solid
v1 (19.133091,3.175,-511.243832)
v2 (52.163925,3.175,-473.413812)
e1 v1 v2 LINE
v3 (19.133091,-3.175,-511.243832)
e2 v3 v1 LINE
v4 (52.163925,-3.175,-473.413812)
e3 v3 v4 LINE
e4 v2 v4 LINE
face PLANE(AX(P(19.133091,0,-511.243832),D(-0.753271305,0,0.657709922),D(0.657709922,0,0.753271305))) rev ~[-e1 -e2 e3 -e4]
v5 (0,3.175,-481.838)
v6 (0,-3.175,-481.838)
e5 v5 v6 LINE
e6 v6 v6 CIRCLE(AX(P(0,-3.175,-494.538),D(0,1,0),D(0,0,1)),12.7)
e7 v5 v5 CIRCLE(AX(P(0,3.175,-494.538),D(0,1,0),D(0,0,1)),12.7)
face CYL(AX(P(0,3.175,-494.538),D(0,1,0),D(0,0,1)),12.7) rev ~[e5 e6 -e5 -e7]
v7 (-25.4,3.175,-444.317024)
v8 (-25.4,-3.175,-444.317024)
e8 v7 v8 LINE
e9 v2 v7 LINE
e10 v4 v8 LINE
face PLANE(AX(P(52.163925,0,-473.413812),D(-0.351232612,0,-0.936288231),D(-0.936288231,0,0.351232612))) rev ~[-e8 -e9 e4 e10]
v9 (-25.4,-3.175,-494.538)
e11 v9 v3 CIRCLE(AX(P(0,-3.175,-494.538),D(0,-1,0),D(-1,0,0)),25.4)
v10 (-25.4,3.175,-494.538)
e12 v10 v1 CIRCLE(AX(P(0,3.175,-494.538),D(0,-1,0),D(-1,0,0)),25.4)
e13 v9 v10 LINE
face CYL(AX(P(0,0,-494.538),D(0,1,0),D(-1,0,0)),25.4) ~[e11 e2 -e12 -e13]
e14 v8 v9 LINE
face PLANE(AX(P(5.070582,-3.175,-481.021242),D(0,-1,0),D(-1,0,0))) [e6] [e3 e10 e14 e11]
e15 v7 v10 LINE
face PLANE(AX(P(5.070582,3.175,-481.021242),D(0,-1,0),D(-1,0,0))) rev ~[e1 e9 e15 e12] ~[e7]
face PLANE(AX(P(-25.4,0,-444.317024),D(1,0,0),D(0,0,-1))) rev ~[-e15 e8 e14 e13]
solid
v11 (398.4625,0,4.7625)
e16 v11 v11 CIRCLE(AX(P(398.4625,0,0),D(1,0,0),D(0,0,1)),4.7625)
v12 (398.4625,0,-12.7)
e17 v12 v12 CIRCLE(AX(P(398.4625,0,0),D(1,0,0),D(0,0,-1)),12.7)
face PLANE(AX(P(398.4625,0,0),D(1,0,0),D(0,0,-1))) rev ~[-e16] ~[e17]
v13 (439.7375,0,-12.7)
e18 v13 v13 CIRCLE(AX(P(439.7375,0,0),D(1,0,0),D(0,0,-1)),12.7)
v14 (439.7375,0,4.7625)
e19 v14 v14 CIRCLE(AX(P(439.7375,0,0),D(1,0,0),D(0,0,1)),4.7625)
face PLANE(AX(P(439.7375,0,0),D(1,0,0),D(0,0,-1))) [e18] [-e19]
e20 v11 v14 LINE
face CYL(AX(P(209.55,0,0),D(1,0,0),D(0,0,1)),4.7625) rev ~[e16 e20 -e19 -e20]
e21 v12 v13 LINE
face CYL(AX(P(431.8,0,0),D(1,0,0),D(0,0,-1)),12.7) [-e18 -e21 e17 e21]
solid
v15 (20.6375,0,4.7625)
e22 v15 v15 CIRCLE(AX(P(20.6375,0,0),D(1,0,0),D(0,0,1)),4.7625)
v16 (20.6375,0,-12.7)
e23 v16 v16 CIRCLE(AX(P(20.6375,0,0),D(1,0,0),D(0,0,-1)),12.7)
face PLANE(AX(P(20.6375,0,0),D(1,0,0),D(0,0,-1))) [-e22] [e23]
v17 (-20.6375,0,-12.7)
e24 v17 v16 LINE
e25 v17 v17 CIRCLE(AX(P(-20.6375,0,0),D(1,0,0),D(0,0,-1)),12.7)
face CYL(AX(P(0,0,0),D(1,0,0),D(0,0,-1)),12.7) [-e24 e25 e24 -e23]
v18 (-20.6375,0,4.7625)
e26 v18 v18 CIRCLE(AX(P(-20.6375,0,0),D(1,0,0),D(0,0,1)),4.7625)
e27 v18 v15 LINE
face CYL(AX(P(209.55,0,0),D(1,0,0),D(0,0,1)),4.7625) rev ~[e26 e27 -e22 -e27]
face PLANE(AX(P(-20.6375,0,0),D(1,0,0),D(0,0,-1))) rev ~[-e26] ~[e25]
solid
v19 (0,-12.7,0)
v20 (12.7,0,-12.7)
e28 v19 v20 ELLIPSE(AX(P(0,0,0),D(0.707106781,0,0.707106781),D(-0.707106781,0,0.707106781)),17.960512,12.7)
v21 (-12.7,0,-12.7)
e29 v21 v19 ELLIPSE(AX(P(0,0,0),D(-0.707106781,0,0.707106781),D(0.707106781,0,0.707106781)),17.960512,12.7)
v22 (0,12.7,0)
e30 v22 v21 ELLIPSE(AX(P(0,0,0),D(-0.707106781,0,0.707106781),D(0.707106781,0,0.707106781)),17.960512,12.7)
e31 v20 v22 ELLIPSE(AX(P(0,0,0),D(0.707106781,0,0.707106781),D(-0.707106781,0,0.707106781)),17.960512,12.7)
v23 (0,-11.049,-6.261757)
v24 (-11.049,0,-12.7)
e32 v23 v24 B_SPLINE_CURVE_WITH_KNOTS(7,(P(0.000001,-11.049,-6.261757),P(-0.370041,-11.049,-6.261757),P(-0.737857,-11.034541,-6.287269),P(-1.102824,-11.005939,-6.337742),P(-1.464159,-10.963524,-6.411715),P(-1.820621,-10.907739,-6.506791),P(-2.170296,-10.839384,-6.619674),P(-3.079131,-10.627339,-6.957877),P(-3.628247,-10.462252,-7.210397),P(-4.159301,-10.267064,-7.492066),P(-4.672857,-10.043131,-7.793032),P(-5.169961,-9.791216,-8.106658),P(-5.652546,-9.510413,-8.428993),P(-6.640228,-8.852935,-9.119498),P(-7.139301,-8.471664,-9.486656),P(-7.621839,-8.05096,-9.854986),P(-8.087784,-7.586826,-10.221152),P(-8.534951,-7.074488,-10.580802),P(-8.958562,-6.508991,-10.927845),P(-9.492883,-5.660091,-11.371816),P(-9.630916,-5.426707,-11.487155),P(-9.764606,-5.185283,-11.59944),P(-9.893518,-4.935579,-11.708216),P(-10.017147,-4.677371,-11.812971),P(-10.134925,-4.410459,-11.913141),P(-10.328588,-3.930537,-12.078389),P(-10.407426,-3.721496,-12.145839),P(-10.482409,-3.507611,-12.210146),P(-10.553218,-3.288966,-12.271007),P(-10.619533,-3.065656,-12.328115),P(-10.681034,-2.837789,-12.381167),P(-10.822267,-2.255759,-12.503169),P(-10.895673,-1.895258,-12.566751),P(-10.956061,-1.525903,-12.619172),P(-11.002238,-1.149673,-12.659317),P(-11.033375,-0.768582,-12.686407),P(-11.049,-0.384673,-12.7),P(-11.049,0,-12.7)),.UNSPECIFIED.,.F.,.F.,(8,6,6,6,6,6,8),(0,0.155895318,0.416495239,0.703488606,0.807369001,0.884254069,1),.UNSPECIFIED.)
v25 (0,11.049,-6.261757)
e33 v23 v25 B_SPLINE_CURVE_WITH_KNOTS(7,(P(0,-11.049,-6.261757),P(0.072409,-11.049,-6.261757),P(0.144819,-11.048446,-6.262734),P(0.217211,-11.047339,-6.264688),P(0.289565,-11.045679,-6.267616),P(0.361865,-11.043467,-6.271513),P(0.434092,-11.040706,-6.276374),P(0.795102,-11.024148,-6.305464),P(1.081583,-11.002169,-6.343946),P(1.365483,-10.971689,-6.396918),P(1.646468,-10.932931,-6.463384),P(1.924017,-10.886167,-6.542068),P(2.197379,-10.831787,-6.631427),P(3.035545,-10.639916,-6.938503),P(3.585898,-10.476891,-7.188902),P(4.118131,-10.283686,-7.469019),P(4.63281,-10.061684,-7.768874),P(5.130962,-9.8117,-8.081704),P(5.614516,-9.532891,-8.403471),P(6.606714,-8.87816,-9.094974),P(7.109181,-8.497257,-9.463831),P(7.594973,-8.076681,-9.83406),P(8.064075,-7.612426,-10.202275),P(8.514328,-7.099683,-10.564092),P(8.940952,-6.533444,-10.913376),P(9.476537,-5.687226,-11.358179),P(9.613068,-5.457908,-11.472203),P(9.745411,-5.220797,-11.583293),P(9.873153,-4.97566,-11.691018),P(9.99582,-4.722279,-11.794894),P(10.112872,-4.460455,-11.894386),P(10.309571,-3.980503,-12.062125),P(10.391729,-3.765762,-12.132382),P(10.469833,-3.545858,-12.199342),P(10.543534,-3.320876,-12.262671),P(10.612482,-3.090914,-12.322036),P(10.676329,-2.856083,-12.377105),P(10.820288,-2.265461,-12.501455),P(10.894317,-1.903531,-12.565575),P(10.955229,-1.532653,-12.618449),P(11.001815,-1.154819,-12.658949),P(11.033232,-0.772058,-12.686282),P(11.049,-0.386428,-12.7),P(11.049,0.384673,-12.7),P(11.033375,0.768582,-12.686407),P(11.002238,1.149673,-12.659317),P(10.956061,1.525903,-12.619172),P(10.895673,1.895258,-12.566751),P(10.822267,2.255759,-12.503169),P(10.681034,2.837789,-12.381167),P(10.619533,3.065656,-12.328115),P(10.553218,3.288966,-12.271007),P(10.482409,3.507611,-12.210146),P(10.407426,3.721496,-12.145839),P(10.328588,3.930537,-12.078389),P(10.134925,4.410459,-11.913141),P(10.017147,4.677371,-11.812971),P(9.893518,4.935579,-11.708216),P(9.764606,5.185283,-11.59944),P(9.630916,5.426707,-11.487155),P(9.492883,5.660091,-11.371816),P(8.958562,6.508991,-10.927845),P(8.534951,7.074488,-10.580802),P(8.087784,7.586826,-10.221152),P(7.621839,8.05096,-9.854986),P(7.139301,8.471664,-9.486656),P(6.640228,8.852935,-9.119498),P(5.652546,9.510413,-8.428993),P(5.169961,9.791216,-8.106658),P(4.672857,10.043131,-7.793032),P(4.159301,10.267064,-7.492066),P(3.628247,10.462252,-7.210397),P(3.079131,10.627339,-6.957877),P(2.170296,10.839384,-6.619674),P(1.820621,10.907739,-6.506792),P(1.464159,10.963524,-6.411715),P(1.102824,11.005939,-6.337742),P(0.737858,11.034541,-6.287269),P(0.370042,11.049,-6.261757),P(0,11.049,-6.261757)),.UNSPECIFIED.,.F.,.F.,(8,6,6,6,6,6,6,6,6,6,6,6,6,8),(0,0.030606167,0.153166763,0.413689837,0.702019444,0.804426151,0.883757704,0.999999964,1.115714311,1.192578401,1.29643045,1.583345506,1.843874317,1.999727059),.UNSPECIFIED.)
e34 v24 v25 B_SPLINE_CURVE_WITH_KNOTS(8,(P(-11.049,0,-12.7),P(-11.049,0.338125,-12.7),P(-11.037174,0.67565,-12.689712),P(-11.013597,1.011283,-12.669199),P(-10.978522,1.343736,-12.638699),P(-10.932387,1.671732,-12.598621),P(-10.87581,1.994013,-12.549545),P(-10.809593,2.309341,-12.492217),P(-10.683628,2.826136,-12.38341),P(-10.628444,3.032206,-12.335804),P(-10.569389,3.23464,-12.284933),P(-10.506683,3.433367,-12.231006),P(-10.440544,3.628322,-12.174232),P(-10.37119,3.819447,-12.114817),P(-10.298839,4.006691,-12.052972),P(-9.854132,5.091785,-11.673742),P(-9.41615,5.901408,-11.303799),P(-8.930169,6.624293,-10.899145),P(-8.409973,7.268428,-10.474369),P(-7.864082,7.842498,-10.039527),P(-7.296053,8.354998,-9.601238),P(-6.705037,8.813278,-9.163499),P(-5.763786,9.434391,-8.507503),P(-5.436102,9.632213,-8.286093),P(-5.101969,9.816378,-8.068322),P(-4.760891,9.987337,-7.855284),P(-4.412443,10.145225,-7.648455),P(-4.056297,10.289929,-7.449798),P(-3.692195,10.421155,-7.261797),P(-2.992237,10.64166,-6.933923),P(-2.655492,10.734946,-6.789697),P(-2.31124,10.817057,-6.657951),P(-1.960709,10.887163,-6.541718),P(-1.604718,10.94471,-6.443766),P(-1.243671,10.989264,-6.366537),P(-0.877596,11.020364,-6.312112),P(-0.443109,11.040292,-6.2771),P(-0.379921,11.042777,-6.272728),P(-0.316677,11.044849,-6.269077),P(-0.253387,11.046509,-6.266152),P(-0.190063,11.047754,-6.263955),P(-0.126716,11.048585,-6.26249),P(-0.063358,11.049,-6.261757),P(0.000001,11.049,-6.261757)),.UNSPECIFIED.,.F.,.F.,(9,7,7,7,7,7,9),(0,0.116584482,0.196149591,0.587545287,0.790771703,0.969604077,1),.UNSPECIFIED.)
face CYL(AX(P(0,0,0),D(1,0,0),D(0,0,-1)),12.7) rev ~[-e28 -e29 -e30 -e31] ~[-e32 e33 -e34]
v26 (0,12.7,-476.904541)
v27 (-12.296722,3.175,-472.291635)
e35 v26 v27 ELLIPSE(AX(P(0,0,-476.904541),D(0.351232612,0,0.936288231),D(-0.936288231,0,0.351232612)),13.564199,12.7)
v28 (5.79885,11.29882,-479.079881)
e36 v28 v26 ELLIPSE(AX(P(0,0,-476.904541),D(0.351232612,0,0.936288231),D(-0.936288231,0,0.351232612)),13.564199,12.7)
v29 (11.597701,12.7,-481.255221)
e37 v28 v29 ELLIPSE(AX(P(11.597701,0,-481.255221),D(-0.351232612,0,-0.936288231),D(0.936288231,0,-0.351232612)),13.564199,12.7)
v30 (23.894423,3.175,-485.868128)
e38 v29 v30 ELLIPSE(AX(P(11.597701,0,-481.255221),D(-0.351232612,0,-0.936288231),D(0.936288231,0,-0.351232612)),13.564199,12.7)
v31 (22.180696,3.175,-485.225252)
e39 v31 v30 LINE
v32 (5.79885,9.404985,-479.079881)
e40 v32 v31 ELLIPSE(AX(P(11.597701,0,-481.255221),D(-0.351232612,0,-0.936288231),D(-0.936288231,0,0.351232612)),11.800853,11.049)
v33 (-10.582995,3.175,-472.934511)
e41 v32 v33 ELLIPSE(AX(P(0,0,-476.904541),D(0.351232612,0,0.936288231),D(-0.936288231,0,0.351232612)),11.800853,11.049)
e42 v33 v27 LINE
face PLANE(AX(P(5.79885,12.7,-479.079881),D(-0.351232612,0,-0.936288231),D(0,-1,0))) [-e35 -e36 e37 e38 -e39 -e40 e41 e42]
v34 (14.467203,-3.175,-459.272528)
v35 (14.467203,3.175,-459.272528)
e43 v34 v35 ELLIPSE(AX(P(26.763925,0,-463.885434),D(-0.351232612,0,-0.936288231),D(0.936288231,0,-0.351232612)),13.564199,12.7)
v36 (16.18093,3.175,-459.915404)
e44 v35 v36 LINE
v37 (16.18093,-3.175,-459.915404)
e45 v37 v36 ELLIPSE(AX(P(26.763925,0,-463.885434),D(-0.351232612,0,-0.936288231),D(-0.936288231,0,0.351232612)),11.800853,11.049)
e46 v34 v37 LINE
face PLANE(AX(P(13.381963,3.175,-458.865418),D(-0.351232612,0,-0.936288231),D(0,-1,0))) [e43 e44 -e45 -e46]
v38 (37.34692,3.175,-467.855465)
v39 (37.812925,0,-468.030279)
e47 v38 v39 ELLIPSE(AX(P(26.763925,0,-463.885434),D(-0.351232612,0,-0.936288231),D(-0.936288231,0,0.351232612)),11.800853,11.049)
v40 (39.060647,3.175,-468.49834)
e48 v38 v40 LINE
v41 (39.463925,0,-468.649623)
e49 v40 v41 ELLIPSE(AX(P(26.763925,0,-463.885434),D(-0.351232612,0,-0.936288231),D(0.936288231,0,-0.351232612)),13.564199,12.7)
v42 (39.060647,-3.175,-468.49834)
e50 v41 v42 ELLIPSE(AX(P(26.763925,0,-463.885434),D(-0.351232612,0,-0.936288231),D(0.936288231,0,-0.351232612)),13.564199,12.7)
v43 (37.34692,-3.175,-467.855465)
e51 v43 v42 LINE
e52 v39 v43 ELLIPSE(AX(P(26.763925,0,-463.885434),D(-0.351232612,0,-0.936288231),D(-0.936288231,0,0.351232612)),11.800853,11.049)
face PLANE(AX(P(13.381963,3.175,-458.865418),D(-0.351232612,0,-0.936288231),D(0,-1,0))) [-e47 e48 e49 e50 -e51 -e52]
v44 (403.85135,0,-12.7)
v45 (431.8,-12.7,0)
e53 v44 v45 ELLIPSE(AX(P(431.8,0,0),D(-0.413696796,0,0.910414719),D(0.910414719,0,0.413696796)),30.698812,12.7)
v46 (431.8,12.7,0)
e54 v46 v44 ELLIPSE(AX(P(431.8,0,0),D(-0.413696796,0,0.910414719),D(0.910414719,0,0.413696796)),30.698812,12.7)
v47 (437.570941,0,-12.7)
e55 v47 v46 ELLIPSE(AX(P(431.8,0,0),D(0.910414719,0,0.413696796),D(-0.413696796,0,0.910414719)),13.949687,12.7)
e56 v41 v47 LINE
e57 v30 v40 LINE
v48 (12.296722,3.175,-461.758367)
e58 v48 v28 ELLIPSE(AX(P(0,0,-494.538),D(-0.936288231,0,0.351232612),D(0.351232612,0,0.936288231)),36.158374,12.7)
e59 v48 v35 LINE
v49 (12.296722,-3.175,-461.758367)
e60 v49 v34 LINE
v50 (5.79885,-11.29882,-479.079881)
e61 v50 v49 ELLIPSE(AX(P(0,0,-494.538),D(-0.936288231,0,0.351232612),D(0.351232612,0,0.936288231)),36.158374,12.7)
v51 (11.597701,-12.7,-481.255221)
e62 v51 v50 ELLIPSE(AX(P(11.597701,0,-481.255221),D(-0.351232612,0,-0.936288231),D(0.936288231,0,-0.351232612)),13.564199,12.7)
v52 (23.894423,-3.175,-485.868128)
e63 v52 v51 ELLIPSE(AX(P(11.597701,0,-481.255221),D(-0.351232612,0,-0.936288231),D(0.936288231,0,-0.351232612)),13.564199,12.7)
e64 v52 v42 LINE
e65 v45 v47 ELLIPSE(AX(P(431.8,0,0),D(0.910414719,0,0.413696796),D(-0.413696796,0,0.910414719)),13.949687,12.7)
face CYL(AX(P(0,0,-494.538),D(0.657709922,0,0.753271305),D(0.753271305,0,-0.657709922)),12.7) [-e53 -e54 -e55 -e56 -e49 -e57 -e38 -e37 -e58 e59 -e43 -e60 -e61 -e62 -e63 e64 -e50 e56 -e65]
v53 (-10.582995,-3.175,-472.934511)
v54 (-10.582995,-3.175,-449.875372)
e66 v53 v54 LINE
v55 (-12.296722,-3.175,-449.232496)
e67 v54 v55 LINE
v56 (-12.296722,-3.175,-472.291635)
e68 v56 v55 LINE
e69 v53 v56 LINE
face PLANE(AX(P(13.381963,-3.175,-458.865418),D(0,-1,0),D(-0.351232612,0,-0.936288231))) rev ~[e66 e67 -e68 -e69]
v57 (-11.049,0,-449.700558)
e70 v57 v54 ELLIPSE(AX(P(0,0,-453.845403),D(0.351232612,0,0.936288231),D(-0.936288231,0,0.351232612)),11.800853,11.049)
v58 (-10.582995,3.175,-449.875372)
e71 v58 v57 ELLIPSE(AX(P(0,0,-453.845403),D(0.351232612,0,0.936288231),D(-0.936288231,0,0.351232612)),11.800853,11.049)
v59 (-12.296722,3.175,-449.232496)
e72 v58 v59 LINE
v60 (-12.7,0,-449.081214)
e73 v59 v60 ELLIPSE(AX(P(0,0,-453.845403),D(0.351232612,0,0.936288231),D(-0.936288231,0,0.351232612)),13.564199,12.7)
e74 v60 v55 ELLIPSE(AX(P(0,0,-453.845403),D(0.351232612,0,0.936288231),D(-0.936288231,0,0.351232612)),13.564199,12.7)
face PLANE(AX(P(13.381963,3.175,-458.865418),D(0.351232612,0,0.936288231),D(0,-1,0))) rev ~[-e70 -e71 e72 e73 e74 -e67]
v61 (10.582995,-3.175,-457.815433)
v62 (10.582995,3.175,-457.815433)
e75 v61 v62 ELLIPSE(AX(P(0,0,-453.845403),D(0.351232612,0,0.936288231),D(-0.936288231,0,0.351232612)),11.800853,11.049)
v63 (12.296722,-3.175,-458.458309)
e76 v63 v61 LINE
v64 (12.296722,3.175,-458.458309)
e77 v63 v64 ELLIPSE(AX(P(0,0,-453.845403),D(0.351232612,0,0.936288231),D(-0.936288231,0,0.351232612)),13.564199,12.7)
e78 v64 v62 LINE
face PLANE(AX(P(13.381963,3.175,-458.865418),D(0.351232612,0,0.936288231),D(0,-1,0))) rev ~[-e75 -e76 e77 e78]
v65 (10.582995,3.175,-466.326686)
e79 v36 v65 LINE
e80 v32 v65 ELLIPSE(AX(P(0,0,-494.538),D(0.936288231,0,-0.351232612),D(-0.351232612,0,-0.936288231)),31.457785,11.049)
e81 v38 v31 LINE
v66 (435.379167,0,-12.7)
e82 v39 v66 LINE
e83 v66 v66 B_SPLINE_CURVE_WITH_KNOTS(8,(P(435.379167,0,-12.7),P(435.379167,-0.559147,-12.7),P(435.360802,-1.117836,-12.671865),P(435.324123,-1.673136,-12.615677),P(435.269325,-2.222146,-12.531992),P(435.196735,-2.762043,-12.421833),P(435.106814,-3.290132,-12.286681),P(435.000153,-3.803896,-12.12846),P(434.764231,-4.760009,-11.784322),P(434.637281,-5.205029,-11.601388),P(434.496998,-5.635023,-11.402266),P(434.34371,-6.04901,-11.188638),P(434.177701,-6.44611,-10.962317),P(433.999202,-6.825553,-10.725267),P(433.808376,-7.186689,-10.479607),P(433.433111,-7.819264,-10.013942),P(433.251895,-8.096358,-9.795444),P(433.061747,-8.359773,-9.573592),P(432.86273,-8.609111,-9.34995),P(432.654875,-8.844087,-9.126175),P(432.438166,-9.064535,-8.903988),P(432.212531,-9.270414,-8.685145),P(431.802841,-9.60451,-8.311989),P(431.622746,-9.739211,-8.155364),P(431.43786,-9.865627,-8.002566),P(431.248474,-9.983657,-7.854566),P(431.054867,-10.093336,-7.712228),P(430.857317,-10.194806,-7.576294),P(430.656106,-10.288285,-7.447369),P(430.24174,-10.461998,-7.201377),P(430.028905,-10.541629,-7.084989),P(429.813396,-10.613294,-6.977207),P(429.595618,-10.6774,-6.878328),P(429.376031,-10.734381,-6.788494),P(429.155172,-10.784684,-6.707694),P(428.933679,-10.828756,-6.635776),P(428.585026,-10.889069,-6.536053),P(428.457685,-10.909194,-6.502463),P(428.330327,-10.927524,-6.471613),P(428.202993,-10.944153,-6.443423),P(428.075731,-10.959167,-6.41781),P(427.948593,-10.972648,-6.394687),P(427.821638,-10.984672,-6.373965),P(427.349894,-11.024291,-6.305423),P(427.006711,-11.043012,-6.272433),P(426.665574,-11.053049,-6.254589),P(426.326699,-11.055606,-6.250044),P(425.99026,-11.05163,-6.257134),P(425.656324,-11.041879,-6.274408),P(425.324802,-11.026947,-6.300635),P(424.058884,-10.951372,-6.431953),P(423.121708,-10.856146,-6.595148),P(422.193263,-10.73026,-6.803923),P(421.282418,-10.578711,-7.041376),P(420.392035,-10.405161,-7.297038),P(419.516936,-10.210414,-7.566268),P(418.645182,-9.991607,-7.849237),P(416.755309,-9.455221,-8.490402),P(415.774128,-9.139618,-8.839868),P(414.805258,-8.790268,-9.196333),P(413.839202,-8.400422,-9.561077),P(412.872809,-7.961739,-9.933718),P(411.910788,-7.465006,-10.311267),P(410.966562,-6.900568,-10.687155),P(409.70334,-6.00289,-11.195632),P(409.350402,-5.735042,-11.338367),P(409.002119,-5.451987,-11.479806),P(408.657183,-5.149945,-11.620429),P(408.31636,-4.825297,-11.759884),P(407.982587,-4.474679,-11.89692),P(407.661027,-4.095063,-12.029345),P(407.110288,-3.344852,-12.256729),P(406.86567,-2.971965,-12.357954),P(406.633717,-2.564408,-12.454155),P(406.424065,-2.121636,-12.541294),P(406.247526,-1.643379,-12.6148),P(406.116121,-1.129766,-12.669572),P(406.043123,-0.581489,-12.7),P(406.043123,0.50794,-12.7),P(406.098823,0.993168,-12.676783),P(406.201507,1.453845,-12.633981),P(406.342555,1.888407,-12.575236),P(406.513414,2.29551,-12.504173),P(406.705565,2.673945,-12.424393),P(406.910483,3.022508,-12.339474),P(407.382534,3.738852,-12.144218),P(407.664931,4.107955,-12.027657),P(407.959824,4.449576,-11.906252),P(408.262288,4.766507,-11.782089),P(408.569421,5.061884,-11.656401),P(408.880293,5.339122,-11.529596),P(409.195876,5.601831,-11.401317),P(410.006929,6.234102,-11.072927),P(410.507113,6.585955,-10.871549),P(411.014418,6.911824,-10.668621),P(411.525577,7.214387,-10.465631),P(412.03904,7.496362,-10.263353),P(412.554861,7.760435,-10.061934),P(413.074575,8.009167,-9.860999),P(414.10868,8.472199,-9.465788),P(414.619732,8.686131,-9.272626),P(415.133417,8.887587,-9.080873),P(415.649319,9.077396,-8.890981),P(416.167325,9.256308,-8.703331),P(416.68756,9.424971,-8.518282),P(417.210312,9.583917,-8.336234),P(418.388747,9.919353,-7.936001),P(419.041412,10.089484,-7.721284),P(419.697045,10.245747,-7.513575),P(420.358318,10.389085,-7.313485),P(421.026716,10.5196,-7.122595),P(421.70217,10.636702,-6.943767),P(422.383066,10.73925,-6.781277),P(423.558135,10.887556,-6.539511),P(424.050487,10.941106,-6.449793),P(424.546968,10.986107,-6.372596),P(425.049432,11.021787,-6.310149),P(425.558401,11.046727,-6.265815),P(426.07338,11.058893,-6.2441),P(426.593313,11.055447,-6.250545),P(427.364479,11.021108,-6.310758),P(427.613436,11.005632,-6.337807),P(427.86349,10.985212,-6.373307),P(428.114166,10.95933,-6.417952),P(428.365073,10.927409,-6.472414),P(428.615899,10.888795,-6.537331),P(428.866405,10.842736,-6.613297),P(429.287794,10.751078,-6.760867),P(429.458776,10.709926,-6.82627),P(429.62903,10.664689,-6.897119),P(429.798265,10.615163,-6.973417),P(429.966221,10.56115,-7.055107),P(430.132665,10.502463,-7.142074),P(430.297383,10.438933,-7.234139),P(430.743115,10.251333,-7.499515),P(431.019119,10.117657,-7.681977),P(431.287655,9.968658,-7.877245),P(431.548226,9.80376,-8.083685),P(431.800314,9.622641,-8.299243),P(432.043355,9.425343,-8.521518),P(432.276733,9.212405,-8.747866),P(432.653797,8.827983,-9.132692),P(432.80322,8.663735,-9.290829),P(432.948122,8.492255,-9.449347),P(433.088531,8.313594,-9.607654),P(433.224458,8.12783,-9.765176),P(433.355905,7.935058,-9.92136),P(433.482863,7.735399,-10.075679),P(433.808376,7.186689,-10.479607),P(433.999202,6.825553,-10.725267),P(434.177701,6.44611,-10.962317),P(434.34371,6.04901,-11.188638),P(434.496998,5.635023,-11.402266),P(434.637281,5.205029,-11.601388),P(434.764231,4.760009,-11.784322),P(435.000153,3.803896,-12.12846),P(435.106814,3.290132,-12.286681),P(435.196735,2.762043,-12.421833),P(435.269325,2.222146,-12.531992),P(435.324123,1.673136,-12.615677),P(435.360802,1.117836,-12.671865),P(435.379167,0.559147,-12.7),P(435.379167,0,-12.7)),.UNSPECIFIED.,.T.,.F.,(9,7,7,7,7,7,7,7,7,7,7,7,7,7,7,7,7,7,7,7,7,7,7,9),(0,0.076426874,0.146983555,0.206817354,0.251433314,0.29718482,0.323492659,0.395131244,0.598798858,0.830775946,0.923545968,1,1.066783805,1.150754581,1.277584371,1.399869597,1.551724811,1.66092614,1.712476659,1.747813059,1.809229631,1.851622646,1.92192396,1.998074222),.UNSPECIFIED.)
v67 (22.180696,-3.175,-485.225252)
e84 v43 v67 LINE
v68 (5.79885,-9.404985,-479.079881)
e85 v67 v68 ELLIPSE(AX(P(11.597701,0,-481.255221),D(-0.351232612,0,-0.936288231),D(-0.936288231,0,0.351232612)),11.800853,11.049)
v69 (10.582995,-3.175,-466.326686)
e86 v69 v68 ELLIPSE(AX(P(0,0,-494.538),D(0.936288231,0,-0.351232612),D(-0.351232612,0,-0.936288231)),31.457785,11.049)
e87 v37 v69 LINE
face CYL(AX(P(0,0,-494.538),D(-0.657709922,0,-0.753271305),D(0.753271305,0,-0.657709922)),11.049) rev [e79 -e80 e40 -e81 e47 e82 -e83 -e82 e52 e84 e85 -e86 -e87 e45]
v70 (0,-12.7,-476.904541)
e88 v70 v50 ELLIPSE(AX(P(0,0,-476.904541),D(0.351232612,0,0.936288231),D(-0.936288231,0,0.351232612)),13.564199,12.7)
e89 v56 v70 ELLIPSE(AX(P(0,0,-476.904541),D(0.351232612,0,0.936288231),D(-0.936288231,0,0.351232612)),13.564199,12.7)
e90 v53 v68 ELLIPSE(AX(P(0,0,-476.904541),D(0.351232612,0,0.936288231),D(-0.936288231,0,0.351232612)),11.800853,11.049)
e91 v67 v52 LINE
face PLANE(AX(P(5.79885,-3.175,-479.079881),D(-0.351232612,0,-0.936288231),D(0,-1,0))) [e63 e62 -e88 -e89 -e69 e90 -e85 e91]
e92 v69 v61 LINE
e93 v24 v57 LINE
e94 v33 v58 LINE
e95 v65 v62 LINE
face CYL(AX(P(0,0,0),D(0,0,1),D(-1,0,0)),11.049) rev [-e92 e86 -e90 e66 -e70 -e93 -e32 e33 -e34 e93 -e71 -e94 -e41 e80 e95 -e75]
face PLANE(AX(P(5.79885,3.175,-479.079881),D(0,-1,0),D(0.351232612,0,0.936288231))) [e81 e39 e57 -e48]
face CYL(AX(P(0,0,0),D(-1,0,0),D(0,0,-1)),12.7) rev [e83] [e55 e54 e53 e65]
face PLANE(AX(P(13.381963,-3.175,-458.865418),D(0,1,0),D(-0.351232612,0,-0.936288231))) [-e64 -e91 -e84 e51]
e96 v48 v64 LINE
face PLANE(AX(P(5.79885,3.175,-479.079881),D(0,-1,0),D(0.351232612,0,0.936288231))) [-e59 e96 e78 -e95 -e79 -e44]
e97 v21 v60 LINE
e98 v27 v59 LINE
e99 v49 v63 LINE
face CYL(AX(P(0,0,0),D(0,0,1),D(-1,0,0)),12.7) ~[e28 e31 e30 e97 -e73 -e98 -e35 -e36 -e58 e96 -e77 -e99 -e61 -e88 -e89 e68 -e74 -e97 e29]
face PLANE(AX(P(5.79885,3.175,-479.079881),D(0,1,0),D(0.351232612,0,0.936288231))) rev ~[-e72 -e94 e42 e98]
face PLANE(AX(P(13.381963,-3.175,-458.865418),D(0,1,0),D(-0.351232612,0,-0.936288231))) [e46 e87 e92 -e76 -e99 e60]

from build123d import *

# Parameters (mm, degrees)
SKETCH11_ON_SEGMENT_1_R         = 12.7
SKETCH11_ON_SEGMENT_1_R_2       = 11.049
STRUCTURAL_MEMBER1_DEPTH        = 543.415718856
SKETCH11_R                      = 12.7
SKETCH11_R_2                    = 11.049
STRUCTURAL_MEMBER1_2_DEPTH      = 656.520428809
STRUCTURAL_MEMBER1_2_DEPTH_BACK = 48.877718856
CUT_EXTRUDE1_DEPTH              = 670.227159455
CUT_EXTRUDE1_DEPTH_BACK         = 670.227159455
BOSS_EXTRUDE1_DEPTH             = 3.175
BOSS_EXTRUDE1_DEPTH_BACK        = 3.175
SKETCH16_R                      = 12.7
CUT_EXTRUDE2_DEPTH              = 683.129929993
CUT_EXTRUDE2_DEPTH_BACK         = 683.129929993
SKETCH17_R                      = 12.7
BOSS_EXTRUDE2_DEPTH             = 20.6375
BOSS_EXTRUDE2_DEPTH_BACK        = 20.6375
SKETCH18_R                      = 12.7
BOSS_EXTRUDE3_DEPTH             = 7.9375
BOSS_EXTRUDE3_DEPTH_BACK        = 33.3375
SKETCH19_W                      = 4.7625
SKETCH19_H                      = 460.375
SKETCH22_R                      = 12.7
CUT_EXTRUDE3_DEPTH              = 682.143603345
CUT_EXTRUDE3_DEPTH_BACK         = 682.143603345


with BuildPart() as part:
    # Sketch11 on segment 1 (carried to segment 1) → Structural Member1 (new body)
    with BuildSketch(Plane(origin=(0, 0, 0), x_dir=(-1, 0, 0), z_dir=(0, 0, -1))):
        Circle(SKETCH11_ON_SEGMENT_1_R)
        Circle(SKETCH11_ON_SEGMENT_1_R_2, mode=Mode.SUBTRACT)
    extrude(amount=STRUCTURAL_MEMBER1_DEPTH)

    # Structural Member1 mitre 1
    split(bisect_by=Plane(origin=(0, 0, -494.538), x_dir=(0, -1, 0), z_dir=(-0.936288231, 0, 0.351232612)), keep=Keep.TOP)


with BuildPart() as body_2:
    # Sketch11 → Structural Member1 2 (new, two sides)
    with BuildSketch(Plane(origin=(0, 0, -494.538), x_dir=(0.7532713047435399, 0, -0.6577099219640564), z_dir=(0.6577099219640563, 0, 0.7532713047435398))) as structural_member1_2_sk:
        Circle(SKETCH11_R)
        Circle(SKETCH11_R_2, mode=Mode.SUBTRACT)
    extrude(amount=STRUCTURAL_MEMBER1_2_DEPTH)
    extrude(structural_member1_2_sk.sketch, amount=-STRUCTURAL_MEMBER1_2_DEPTH_BACK)

    # Structural Member1 2 mitre 1
    split(bisect_by=Plane(origin=(0, 0, -494.538), x_dir=(0, 1, 0), z_dir=(0.936288231, 0, -0.351232612)), keep=Keep.TOP)


with BuildPart() as part_1:
    add(part.part)

    # Structural Member1 as one body: union body 2
    add(body_2.part)

    # Sketch13 → Cut-Extrude1 (cut, two sides)
    with BuildSketch(Plane(origin=(0, 0, -494.538), x_dir=(0.35123261185178917, 0, 0.9362882314606814), z_dir=(-0.9362882314606813, 0, 0.3512326118517891))) as cut_extrude1_sk:
        Polygon((16.51, 3.175), (38.1, 3.175), (38.1, -3.175), (16.51, -3.175), (16.51, -12.7), (-36.1583736, -12.7), (-36.1583736, 12.7), (16.51, 12.7), align=None)
    extrude(amount=CUT_EXTRUDE1_DEPTH, mode=Mode.SUBTRACT)
    extrude(cut_extrude1_sk.sketch, amount=-CUT_EXTRUDE1_DEPTH_BACK, mode=Mode.SUBTRACT)

    # Sketch16 → Cut-Extrude2 (cut, two sides)
    with BuildSketch(Plane(origin=(0, 0, 0), x_dir=(0, 0, -1), z_dir=(1, 0, 0))) as cut_extrude2_sk:
        Circle(SKETCH16_R)
    extrude(amount=CUT_EXTRUDE2_DEPTH, mode=Mode.SUBTRACT)
    extrude(cut_extrude2_sk.sketch, amount=-CUT_EXTRUDE2_DEPTH_BACK, mode=Mode.SUBTRACT)


with BuildPart() as body_2_2:
    # Sketch12 → Boss-Extrude1 (new, two sides)
    with BuildSketch(Plane(origin=(0, 0, 0), x_dir=(1, 0, 0), z_dir=(0, 1, 0))) as boss_extrude1_sk:
        with BuildLine():
            Line((19.13309114, 511.243832018), (52.163925023, 473.413812271))
            Line((52.163925023, 473.413812271), (-25.4, 444.317024492))
            Line((-25.4, 444.317024492), (-25.4, 494.538))
            ThreePointArc((-25.4, 494.538), (-8.921308341, 518.319721079), (19.13309114, 511.243832018))
        make_face()
    extrude(amount=BOSS_EXTRUDE1_DEPTH)
    extrude(boss_extrude1_sk.sketch, amount=-BOSS_EXTRUDE1_DEPTH_BACK)

    # Sketch22 → Cut-Extrude3 (cut, two sides)
    with BuildSketch(Plane(origin=(0, 3.175, 0), x_dir=(1, 0, 0), z_dir=(0, 1, 0))) as cut_extrude3_sk:
        with Locations(Location((0, 494.538, 0), (0, 0, 270))):
            Circle(SKETCH22_R)
    extrude(amount=CUT_EXTRUDE3_DEPTH, mode=Mode.SUBTRACT)
    extrude(cut_extrude3_sk.sketch, amount=-CUT_EXTRUDE3_DEPTH_BACK, mode=Mode.SUBTRACT)


with BuildPart() as body_3:
    # Sketch17 → Boss-Extrude2 (new, two sides)
    with BuildSketch(Plane(origin=(0, 0, 0), x_dir=(0, 0, -1), z_dir=(1, 0, 0))) as boss_extrude2_sk:
        Circle(SKETCH17_R)
    extrude(amount=BOSS_EXTRUDE2_DEPTH)
    extrude(boss_extrude2_sk.sketch, amount=-BOSS_EXTRUDE2_DEPTH_BACK)


with BuildPart() as body_4:
    # Sketch18 → Boss-Extrude3 (new, two sides)
    with BuildSketch(Plane(origin=(431.8, 0, 0), x_dir=(0, 0, -1), z_dir=(1, 0, 0))) as boss_extrude3_sk:
        Circle(SKETCH18_R)
    extrude(amount=BOSS_EXTRUDE3_DEPTH)
    extrude(boss_extrude3_sk.sketch, amount=-BOSS_EXTRUDE3_DEPTH_BACK)


with BuildPart() as f_1_2_0_5_diameter_hole2_tool:
    # Sketch19 → 1_2 _0.5_ Diameter Hole2 (revolve)
    with BuildSketch(Plane(origin=(-20.6375, 0, 0), x_dir=(0, 0, 1), z_dir=(0, 1, 0))):
        with Locations((2.38125, 230.1875)):
            Rectangle(SKETCH19_W, SKETCH19_H)
    revolve(axis=Axis((-26.9875, 0, 0), (1, 0, 0)))


with BuildPart() as body_3_1:
    add(body_3.part)

    # 1_2 _0.5_ Diameter Hole2: cut by f_1_2_0_5_diameter_hole2_tool
    add(f_1_2_0_5_diameter_hole2_tool.part, mode=Mode.SUBTRACT)


with BuildPart() as body_4_1:
    add(body_4.part)

    # 1_2 _0.5_ Diameter Hole2: cut by f_1_2_0_5_diameter_hole2_tool
    add(f_1_2_0_5_diameter_hole2_tool.part, mode=Mode.SUBTRACT)


solid = Compound([part_1.part, body_2_2.part, body_3_1.part, body_4_1.part])
